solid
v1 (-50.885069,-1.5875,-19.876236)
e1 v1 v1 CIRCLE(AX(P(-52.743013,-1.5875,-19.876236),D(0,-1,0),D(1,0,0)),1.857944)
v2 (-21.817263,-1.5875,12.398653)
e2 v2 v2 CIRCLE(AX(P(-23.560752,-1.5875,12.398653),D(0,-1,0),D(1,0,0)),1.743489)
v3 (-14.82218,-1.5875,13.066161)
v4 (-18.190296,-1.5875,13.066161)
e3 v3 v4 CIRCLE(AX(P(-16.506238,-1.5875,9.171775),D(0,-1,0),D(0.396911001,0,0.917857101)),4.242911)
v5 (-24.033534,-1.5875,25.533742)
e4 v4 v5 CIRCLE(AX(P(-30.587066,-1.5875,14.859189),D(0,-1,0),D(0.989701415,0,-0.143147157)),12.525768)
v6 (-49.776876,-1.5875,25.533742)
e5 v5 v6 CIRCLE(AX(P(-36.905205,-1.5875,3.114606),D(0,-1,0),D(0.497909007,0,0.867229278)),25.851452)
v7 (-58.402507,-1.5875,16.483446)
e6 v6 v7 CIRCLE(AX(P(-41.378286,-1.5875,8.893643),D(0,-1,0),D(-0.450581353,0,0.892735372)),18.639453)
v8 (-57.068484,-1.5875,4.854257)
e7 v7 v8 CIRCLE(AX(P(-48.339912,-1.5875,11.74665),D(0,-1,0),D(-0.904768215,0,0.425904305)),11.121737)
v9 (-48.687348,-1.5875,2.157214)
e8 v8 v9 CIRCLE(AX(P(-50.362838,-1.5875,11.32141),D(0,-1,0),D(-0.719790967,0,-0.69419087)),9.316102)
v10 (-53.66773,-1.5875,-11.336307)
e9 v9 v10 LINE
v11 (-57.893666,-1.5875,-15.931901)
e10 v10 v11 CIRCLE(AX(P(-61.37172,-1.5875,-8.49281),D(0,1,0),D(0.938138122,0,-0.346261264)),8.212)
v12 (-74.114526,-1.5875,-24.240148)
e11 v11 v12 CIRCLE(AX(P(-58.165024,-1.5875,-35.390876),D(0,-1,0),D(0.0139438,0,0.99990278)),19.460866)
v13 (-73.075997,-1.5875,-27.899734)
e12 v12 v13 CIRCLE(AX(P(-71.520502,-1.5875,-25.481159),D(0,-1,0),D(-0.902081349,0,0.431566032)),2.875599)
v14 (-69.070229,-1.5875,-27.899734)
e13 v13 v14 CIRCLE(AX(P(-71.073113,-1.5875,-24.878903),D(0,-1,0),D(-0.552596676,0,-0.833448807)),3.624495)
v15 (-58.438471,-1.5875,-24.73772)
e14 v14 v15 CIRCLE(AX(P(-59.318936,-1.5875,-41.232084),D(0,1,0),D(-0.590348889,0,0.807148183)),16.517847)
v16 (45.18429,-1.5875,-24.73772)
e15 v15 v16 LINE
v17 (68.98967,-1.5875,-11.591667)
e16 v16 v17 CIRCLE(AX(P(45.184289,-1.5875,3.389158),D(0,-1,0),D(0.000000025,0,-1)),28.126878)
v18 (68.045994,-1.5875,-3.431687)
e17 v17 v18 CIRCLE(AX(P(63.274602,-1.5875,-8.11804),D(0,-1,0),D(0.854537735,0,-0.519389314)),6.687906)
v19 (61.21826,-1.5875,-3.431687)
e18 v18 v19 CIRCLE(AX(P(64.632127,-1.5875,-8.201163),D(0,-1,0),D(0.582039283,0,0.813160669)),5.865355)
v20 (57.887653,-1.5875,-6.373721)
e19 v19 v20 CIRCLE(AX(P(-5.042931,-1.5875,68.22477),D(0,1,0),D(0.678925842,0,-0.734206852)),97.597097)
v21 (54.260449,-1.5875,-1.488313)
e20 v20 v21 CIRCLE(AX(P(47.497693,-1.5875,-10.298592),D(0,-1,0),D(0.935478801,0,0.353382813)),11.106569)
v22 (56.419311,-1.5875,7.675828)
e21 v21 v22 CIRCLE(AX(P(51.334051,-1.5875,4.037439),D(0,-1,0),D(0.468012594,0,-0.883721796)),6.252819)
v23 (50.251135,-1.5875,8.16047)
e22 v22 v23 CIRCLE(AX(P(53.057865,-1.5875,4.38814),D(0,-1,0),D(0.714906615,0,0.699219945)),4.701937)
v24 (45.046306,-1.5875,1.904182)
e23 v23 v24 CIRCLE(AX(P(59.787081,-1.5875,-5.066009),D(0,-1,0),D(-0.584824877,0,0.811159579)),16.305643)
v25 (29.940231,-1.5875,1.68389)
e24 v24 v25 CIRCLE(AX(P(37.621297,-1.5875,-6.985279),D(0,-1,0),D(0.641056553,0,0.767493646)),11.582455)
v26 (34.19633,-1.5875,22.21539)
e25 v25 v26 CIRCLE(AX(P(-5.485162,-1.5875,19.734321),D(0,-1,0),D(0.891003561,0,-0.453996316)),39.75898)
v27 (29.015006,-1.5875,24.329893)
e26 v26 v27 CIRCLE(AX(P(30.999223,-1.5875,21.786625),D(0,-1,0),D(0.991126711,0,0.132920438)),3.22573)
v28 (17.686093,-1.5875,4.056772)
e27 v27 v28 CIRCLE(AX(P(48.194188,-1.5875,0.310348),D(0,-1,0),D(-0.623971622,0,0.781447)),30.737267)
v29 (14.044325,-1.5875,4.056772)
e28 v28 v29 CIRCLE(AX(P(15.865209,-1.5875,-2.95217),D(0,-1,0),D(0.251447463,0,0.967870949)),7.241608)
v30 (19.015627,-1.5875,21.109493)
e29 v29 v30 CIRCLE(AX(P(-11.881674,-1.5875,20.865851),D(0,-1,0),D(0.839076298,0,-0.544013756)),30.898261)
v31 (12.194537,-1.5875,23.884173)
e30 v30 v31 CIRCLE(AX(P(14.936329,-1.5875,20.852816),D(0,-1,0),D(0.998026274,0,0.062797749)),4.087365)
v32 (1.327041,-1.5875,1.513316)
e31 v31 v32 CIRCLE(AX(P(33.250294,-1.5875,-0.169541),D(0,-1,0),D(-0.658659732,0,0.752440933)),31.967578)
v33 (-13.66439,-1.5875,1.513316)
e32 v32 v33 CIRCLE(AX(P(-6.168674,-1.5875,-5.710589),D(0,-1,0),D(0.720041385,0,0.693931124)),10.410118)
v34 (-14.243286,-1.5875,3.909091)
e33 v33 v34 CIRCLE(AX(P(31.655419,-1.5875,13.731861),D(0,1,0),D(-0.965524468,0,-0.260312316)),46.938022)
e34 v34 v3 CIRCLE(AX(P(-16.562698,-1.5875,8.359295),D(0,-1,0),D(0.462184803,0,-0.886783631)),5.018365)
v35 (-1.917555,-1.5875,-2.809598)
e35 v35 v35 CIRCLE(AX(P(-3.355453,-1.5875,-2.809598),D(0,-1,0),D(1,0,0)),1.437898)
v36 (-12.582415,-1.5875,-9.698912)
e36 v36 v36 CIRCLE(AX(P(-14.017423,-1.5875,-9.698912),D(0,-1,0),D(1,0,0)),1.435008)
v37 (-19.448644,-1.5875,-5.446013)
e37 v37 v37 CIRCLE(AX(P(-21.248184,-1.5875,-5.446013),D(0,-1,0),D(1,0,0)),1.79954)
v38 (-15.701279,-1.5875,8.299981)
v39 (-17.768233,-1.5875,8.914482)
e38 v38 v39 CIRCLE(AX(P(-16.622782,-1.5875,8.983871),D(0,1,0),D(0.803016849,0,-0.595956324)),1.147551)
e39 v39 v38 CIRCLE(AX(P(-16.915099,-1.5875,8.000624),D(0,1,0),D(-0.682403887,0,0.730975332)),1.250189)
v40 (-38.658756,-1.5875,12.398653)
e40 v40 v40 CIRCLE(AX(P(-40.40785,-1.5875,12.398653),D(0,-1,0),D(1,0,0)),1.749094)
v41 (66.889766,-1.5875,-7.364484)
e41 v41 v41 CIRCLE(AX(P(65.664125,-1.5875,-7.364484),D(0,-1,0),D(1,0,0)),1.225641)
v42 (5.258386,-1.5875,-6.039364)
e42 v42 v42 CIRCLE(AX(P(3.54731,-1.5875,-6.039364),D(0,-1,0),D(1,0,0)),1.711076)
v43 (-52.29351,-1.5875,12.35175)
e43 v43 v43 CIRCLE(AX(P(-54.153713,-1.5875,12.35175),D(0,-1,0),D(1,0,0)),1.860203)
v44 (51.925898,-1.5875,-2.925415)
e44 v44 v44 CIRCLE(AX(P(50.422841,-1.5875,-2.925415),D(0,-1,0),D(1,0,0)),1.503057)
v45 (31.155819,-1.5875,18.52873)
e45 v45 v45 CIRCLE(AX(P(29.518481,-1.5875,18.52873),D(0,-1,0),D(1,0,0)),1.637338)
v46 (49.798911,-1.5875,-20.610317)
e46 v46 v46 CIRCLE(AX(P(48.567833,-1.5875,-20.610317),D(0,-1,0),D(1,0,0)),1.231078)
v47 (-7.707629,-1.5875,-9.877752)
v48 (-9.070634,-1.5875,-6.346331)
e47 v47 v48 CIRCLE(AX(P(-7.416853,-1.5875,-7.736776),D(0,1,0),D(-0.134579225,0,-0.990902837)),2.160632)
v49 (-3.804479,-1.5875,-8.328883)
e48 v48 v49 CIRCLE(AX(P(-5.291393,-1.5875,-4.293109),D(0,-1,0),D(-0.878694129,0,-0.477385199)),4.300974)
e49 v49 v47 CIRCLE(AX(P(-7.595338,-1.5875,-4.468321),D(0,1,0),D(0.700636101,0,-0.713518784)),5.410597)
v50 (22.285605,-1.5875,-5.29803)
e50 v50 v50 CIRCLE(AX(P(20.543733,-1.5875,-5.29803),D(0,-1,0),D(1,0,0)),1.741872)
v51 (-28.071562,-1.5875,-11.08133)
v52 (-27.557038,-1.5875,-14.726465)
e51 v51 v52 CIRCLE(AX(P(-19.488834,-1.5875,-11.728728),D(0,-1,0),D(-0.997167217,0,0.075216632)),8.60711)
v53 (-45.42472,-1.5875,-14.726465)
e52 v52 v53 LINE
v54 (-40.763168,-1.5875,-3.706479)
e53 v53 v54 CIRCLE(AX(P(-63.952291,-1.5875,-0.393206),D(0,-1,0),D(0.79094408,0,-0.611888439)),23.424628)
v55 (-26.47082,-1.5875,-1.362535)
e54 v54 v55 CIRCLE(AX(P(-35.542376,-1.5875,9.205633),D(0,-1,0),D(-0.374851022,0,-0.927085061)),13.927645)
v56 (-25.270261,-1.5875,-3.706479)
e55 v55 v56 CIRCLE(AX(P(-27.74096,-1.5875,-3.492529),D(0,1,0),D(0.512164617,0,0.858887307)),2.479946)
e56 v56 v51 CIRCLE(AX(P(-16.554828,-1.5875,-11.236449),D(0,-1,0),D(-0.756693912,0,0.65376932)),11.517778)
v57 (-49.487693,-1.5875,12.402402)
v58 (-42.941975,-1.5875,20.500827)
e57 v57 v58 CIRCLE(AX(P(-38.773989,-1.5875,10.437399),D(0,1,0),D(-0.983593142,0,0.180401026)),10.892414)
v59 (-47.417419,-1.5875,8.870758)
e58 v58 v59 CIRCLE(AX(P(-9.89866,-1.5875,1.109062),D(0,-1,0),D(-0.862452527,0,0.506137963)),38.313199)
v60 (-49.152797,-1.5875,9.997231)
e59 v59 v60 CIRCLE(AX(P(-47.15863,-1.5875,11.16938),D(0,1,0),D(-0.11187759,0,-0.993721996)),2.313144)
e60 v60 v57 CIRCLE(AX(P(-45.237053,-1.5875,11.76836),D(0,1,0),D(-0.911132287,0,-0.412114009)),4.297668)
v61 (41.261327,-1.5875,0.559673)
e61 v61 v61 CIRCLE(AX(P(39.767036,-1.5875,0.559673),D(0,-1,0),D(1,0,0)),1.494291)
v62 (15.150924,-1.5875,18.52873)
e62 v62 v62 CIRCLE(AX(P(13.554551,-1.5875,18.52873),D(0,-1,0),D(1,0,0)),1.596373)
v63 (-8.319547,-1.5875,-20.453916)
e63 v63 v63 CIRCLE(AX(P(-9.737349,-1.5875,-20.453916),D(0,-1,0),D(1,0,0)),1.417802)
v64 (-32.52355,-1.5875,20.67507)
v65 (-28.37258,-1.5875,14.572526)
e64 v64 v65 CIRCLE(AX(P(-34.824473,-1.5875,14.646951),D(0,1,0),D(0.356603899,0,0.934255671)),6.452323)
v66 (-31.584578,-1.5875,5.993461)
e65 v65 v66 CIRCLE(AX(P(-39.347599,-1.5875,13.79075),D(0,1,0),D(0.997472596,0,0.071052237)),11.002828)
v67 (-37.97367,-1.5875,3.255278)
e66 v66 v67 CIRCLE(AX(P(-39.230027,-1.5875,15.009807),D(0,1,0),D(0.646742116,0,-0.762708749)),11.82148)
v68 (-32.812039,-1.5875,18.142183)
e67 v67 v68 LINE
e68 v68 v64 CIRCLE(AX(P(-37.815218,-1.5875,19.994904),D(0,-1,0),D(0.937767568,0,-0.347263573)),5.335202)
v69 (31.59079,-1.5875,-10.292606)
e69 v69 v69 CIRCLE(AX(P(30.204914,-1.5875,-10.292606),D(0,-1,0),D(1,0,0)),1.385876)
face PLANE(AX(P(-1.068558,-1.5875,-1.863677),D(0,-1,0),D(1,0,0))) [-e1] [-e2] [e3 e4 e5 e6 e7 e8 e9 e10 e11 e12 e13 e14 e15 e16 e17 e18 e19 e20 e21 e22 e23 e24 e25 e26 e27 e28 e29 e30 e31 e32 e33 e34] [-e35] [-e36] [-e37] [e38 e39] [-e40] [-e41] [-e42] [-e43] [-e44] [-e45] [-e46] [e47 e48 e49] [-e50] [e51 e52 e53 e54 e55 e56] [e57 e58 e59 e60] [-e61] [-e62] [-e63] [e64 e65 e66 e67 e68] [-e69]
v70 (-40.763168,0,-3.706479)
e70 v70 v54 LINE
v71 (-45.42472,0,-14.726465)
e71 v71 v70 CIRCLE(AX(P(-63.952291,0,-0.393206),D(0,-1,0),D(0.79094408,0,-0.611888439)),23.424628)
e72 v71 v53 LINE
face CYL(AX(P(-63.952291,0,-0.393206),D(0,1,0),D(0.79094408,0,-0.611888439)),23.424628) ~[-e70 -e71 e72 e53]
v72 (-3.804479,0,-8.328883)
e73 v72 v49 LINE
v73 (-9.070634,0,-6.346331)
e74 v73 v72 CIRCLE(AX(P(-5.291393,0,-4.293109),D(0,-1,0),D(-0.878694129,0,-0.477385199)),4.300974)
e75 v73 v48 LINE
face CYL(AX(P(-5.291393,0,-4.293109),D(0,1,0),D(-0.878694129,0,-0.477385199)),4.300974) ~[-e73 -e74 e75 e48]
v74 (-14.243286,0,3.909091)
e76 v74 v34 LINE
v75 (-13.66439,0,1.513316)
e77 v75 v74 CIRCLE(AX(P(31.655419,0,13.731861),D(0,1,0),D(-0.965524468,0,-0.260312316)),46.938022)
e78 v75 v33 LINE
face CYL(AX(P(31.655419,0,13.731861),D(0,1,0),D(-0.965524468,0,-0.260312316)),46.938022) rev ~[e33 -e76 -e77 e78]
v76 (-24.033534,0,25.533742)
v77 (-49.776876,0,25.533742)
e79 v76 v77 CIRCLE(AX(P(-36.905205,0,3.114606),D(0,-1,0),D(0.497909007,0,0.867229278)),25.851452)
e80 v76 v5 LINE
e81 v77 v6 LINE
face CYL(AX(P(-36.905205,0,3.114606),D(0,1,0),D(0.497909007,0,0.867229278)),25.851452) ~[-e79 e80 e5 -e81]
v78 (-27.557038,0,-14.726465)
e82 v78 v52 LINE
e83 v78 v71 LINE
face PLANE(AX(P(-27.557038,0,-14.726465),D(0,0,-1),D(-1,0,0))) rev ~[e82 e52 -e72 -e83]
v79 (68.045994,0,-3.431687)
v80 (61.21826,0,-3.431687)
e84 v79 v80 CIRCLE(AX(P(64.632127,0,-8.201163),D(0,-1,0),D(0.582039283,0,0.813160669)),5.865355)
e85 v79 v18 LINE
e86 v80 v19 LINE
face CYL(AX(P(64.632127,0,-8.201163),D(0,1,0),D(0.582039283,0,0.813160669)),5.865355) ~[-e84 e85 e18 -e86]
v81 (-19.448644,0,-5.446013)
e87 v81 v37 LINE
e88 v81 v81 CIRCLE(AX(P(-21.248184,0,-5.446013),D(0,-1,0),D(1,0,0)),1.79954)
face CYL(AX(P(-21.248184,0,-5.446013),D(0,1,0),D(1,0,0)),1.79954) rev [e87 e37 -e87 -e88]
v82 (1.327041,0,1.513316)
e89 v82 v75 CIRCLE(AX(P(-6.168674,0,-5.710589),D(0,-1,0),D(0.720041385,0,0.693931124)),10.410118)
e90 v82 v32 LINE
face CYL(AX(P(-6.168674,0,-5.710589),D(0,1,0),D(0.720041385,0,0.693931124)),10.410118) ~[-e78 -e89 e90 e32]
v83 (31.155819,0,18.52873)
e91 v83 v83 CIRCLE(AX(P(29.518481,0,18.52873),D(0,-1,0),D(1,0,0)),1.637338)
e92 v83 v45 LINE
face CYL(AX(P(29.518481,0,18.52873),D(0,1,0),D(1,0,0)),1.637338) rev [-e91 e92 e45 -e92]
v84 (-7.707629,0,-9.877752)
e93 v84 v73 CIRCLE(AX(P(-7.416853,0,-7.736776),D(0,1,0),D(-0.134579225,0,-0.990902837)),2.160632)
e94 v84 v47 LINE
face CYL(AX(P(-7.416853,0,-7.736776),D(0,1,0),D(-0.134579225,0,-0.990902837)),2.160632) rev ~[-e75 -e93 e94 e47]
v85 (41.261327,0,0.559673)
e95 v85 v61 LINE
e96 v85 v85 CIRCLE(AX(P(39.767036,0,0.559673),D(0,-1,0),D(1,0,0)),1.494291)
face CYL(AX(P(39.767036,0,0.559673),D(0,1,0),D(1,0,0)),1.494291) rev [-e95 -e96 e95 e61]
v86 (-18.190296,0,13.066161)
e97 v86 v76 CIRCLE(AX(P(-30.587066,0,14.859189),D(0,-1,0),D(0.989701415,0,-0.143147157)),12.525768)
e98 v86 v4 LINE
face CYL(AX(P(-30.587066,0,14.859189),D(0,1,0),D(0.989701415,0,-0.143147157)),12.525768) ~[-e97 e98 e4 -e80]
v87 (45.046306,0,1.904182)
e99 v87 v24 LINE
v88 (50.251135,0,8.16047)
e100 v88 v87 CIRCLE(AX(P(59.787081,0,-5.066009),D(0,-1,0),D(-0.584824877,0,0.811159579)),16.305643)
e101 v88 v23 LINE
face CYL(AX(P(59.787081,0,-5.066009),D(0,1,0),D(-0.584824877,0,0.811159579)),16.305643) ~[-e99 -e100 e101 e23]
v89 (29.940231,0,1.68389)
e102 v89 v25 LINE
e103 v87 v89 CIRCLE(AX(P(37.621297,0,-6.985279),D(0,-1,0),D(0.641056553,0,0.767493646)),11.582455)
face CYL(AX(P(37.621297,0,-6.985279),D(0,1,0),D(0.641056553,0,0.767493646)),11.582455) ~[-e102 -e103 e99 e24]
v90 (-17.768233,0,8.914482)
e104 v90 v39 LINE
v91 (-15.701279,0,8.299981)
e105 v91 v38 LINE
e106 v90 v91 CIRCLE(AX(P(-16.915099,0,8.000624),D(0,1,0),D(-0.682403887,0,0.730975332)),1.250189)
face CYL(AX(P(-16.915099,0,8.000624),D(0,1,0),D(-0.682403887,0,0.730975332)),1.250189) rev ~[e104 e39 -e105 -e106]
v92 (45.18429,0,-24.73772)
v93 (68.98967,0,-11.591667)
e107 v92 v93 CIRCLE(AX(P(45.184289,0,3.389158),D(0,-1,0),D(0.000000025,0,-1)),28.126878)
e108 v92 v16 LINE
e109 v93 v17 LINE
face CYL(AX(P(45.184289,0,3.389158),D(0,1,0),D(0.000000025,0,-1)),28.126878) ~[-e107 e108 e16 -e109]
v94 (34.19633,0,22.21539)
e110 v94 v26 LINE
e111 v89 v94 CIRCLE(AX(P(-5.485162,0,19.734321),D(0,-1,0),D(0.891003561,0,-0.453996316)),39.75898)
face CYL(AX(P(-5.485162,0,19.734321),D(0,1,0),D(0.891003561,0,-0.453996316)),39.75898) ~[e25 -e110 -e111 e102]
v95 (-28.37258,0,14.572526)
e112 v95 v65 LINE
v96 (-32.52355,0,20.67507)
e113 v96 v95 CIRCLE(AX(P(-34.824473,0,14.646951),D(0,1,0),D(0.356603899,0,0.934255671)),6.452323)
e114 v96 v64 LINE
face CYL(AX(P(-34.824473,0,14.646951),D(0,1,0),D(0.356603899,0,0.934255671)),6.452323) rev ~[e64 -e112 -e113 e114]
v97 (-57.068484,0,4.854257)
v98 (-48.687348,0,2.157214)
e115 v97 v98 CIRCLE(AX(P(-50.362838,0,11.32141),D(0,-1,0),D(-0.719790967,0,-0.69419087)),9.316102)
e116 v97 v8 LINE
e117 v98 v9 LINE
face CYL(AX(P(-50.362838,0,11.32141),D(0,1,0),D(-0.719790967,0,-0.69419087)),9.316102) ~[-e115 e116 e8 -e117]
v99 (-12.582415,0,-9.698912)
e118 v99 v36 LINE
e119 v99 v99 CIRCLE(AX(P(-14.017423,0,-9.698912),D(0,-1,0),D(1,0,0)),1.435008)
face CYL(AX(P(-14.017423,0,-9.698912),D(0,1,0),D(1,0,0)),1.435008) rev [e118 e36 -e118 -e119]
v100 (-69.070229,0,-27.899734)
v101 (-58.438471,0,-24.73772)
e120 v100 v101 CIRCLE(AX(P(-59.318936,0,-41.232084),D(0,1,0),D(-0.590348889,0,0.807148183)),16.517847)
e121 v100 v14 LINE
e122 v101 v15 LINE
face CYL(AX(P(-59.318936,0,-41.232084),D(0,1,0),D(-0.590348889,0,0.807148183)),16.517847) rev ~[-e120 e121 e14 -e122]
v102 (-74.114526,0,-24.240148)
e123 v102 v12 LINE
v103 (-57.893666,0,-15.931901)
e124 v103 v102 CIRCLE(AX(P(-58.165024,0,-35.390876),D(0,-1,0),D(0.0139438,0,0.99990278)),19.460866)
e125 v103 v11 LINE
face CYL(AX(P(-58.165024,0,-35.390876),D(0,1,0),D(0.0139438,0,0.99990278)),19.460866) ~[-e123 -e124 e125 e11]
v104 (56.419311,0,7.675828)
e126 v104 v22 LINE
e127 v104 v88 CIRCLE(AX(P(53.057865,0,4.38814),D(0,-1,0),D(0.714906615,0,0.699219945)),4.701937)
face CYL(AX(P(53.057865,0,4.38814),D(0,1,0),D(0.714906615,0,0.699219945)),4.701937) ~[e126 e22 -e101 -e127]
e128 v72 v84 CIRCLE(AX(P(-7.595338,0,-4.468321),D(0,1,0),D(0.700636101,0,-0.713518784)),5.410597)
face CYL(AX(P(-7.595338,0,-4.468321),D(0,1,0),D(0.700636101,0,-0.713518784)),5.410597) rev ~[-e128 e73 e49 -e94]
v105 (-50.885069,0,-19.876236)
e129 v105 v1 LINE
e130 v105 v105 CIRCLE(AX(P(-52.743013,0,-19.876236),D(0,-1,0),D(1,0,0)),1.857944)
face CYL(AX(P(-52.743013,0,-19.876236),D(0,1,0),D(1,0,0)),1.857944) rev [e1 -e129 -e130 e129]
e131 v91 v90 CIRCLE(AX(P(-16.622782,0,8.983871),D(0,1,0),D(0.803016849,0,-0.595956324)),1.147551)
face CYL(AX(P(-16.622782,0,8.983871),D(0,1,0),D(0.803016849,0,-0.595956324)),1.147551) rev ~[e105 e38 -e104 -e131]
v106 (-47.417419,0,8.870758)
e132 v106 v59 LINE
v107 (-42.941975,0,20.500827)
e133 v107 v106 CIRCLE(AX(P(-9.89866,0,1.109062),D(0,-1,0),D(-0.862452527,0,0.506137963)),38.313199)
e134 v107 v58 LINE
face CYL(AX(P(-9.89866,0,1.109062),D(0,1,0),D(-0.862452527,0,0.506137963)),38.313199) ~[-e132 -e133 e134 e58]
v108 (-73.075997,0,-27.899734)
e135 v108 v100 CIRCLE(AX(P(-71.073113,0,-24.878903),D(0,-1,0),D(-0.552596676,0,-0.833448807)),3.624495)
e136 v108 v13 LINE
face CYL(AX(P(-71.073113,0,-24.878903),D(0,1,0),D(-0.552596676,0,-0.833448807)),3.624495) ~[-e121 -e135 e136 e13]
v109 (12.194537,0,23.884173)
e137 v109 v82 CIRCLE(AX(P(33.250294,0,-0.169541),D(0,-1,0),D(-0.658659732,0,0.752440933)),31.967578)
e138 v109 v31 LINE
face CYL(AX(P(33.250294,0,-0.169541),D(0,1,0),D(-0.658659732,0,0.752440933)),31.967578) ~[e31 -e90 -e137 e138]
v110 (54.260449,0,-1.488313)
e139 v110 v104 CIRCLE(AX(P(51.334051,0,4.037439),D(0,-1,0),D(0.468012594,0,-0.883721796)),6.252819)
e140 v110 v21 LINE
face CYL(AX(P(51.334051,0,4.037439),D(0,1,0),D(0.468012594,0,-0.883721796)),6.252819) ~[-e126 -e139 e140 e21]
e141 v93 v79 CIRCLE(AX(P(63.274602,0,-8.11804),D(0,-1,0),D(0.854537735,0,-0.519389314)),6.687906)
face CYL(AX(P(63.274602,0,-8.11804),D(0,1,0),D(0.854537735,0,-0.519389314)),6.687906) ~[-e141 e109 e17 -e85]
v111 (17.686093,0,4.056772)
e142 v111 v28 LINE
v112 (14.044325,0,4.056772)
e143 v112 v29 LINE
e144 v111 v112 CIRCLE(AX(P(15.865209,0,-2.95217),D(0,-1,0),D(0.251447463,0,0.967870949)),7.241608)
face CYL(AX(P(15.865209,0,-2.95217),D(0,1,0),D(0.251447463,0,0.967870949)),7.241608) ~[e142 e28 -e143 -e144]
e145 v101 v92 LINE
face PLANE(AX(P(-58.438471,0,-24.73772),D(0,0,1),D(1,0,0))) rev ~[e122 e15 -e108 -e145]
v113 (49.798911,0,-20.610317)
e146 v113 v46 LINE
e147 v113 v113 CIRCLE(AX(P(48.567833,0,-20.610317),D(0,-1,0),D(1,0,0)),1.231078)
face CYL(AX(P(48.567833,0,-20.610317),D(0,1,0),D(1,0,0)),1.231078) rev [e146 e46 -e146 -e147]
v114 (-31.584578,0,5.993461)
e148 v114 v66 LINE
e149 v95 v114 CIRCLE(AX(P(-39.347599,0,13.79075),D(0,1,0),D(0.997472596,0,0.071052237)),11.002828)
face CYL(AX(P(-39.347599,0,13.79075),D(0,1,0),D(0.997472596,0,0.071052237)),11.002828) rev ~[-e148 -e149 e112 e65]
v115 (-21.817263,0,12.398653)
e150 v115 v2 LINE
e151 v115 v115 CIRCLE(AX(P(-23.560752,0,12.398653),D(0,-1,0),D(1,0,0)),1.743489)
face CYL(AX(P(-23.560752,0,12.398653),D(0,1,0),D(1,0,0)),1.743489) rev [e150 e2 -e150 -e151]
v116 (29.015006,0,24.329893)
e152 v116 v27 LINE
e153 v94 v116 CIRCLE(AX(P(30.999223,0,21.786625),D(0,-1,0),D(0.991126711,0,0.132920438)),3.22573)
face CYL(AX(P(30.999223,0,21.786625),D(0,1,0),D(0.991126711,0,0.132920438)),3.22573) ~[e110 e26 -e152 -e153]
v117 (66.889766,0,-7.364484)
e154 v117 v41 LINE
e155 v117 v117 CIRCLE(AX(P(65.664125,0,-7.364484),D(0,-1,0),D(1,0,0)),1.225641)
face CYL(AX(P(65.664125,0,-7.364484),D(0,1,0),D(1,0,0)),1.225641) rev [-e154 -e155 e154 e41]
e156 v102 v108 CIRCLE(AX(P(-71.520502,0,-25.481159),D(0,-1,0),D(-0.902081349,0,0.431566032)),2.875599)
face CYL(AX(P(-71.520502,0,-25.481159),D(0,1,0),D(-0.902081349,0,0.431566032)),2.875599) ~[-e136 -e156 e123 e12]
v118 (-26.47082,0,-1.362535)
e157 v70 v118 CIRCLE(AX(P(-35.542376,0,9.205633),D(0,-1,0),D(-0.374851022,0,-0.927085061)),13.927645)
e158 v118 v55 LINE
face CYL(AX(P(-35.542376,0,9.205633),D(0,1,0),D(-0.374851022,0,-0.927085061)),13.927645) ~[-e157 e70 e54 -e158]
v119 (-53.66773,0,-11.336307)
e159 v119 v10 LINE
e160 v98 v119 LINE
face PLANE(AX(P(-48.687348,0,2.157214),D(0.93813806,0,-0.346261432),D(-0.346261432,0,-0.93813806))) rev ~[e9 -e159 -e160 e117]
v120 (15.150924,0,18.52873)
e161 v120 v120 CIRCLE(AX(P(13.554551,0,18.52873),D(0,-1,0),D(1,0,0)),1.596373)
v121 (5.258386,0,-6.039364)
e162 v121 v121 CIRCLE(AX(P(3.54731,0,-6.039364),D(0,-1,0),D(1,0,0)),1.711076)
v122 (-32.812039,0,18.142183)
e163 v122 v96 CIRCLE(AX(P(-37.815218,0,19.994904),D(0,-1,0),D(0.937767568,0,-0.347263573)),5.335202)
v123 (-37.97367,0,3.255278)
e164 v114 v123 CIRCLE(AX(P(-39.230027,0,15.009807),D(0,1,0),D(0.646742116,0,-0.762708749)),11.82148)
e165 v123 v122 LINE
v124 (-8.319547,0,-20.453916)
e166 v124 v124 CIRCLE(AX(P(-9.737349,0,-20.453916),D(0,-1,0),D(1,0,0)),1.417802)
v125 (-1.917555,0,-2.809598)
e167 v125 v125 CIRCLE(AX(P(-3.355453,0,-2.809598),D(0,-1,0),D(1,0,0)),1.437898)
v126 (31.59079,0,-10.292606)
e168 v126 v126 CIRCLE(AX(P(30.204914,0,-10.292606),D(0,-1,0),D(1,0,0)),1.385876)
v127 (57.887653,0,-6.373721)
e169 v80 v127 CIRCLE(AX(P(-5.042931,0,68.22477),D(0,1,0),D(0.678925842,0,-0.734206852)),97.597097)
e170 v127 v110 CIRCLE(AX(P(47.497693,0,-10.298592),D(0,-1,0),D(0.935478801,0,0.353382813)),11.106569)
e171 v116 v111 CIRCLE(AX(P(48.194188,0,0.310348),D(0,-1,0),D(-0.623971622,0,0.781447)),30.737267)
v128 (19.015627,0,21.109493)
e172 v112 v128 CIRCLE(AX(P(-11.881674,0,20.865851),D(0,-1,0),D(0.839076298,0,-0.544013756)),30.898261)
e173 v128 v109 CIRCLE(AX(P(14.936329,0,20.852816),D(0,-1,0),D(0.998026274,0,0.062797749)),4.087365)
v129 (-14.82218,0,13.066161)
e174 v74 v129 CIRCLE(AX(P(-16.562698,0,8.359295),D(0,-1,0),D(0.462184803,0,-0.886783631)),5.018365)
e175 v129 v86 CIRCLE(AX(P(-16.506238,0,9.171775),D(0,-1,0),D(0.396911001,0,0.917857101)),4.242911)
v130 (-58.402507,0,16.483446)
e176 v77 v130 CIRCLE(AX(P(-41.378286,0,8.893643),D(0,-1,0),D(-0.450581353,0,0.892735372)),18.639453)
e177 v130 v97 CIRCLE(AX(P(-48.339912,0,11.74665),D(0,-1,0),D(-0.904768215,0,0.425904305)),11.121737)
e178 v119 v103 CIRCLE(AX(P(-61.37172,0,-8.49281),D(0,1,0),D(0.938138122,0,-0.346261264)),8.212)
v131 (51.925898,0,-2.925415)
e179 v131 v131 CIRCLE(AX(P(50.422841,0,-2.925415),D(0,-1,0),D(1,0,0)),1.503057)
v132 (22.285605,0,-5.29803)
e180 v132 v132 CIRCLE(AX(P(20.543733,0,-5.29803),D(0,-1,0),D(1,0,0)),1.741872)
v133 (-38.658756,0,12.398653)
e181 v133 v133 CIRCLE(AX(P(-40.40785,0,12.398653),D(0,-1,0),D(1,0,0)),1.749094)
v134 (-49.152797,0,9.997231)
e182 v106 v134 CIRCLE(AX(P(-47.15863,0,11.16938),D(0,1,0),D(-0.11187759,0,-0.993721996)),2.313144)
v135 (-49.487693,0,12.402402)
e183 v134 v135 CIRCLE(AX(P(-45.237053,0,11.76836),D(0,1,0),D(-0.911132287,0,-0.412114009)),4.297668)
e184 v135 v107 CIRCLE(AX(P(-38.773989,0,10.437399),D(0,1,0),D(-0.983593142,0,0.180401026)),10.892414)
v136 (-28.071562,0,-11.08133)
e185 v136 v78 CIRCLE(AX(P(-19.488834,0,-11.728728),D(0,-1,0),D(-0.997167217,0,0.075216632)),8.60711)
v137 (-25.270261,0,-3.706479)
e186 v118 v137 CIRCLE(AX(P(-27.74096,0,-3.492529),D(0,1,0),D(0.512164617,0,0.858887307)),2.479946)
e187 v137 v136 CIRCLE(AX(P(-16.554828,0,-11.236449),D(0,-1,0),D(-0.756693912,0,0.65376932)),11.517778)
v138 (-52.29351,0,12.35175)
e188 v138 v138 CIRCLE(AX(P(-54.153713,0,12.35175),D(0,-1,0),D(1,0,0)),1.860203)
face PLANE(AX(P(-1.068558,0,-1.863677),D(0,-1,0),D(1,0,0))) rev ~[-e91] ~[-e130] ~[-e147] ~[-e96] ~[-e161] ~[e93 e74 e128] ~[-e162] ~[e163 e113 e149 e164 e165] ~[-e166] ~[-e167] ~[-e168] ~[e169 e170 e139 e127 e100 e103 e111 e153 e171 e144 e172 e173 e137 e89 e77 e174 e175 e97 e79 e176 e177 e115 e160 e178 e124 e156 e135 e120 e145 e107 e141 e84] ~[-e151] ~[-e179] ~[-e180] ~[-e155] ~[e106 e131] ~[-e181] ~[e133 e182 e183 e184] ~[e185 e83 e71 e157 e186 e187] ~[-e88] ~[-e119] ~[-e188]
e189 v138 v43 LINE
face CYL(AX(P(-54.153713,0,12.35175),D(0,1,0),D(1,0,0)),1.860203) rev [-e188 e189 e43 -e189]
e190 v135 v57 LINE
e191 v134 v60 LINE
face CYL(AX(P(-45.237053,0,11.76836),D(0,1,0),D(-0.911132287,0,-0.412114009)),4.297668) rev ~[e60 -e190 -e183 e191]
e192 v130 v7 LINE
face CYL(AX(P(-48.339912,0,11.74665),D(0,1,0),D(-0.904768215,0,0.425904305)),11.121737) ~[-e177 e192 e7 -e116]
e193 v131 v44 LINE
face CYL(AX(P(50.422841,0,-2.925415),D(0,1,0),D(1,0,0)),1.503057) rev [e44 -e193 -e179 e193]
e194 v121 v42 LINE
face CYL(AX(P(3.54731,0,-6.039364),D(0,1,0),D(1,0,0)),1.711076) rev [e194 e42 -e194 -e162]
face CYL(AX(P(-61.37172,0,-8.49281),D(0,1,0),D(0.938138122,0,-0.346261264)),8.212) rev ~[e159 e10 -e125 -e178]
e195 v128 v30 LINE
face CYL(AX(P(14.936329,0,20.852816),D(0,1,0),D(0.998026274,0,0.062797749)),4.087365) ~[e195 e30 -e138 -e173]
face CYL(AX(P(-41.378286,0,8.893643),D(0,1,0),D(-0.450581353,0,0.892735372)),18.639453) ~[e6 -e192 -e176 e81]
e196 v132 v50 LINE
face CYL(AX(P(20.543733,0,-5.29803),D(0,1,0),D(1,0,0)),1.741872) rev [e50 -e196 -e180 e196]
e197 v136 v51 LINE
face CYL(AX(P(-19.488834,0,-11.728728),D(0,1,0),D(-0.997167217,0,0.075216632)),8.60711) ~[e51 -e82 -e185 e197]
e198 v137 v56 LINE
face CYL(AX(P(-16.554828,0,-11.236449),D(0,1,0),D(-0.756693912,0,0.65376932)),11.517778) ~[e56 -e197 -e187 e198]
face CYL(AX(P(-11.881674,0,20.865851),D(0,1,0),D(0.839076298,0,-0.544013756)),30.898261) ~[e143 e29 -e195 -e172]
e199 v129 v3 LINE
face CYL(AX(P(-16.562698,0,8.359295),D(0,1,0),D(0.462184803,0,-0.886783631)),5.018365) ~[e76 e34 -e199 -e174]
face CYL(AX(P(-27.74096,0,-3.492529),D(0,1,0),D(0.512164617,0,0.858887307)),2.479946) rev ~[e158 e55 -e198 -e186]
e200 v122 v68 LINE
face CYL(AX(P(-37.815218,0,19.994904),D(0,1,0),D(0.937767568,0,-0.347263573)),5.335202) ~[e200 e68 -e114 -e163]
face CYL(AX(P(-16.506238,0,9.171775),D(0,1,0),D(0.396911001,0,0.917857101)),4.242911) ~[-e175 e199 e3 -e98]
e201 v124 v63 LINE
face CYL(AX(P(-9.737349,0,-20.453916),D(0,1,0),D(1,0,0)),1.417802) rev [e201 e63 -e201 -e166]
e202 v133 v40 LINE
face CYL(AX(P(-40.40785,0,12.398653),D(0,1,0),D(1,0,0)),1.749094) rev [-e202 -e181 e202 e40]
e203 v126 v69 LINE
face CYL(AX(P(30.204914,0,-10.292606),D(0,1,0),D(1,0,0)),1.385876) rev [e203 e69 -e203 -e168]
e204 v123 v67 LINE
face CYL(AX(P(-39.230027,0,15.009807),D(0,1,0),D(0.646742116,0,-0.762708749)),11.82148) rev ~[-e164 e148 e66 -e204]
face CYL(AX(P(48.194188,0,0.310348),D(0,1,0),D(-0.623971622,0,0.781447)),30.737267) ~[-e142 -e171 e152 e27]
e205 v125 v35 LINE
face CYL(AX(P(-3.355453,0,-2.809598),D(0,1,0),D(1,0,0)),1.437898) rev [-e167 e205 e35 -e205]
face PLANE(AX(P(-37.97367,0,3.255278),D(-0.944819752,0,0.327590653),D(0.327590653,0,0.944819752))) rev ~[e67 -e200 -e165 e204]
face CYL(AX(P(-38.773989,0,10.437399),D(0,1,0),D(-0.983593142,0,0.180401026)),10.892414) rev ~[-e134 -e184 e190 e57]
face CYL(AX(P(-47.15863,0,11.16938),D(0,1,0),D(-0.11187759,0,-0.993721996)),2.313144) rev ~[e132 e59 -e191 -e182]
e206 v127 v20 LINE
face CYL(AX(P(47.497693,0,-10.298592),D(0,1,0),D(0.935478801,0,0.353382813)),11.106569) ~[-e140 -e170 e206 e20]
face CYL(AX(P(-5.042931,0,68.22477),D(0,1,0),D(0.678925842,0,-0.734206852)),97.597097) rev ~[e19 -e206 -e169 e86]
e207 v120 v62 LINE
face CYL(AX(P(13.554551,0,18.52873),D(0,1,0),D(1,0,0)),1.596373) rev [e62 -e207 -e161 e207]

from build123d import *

# Parameters (mm, degrees)
F0_R     = 1.857944
F0_R_2   = 1.417802
F0_R_3   = 1.435008
F0_R_4   = 1.79954
F0_R_5   = 1.437898
F0_R_6   = 1.231078
F0_R_7   = 1.385876
F0_R_8   = 1.711076
F0_R_9   = 1.741872
F0_R_10  = 1.225641
F0_R_11  = 1.503057
F0_R_12  = 1.860203
F0_R_13  = 1.749094
F0_R_14  = 1.743489
F0_R_15  = 1.494291
F0_R_16  = 1.596373
F0_R_17  = 1.637338
F1_DEPTH = 1.5875


with BuildPart() as f1:
    # F0 (on Front) → F1 (new body)
    with BuildSketch(Plane.XZ):
        with BuildLine():
            ThreePointArc((-53.66773, -11.336307), (-55.326937, -14.051365), (-57.893666, -15.931901))
            ThreePointArc((-57.893666, -15.931901), (-67.036765, -18.069861), (-74.114526, -24.240148))
            ThreePointArc((-74.114526, -24.240148), (-74.286866, -26.266206), (-73.075997, -27.899734))
            ThreePointArc((-73.075997, -27.899734), (-71.073113, -28.503398), (-69.070229, -27.899734))
            ThreePointArc((-69.070229, -27.899734), (-64.027702, -25.399624), (-58.438471, -24.73772))
            Line((-58.438471, -24.73772), (45.18429, -24.73772))
            ThreePointArc((45.18429, -24.73772), (58.781301, -21.232835), (68.98967, -11.591667))
            ThreePointArc((68.98967, -11.591667), (69.918229, -7.349726), (68.045994, -3.431687))
            ThreePointArc((68.045994, -3.431687), (64.632127, -2.335808), (61.21826, -3.431687))
            ThreePointArc((61.21826, -3.431687), (59.569704, -4.921663), (57.887653, -6.373721))
            ThreePointArc((57.887653, -6.373721), (56.415132, -3.677779), (54.260449, -1.488313))
            ThreePointArc((54.260449, -1.488313), (57.420268, 2.603666), (56.419311, 7.675828))
            ThreePointArc((56.419311, 7.675828), (53.426168, 9.07563), (50.251135, 8.16047))
            ThreePointArc((50.251135, 8.16047), (47.252127, 5.362267), (45.046306, 1.904182))
            ThreePointArc((45.046306, 1.904182), (37.452408, 4.595945), (29.940231, 1.68389))
            ThreePointArc((29.940231, 1.68389), (33.446145, 11.664014), (34.19633, 22.21539))
            ThreePointArc((34.19633, 22.21539), (32.218057, 24.773224), (29.015006, 24.329893))
            ThreePointArc((29.015006, 24.329893), (21.362188, 15.304458), (17.686093, 4.056772))
            ThreePointArc((17.686093, 4.056772), (15.865209, 4.289438), (14.044325, 4.056772))
            ThreePointArc((14.044325, 4.056772), (17.781783, 12.218199), (19.015627, 21.109493))
            ThreePointArc((19.015627, 21.109493), (16.476441, 24.638923), (12.194537, 23.884173))
            ThreePointArc((12.194537, 23.884173), (4.49603, 13.798937), (1.327041, 1.513316))
            ThreePointArc((1.327041, 1.513316), (-6.168675, 4.699529), (-13.66439, 1.513316))
            ThreePointArc((-13.66439, 1.513316), (-13.969566, 2.707403), (-14.243286, 3.909091))
            ThreePointArc((-14.243286, 3.909091), (-11.554331, 8.675915), (-14.82218, 13.066161))
            ThreePointArc((-14.82218, 13.066161), (-16.506238, 13.414686), (-18.190296, 13.066161))
            ThreePointArc((-18.190296, 13.066161), (-19.245169, 20.174848), (-24.033534, 25.533742))
            ThreePointArc((-24.033534, 25.533742), (-36.905205, 28.966058), (-49.776876, 25.533742))
            ThreePointArc((-49.776876, 25.533742), (-54.871128, 21.753364), (-58.402507, 16.483446))
            ThreePointArc((-58.402507, 16.483446), (-59.389188, 10.479151), (-57.068484, 4.854257))
            ThreePointArc((-57.068484, 4.854257), (-53.21663, 2.453173), (-48.687348, 2.157214))
            Line((-48.687348, 2.157214), (-53.66773, -11.336307))
        make_face()
        with Locations((-52.743013, -19.876236)):
            Circle(F0_R, mode=Mode.SUBTRACT)
        with Locations((-9.737349, -20.453916)):
            Circle(F0_R_2, mode=Mode.SUBTRACT)
        with BuildLine():
            Line((-27.557038, -14.726465), (-45.42472, -14.726465))
            ThreePointArc((-45.42472, -14.726465), (-42.378449, -9.519133), (-40.763168, -3.706479))
            ThreePointArc((-40.763168, -3.706479), (-33.288354, -4.538409), (-26.47082, -1.362535))
            ThreePointArc((-26.47082, -1.362535), (-25.533702, -2.36198), (-25.270261, -3.706479))
            ThreePointArc((-25.270261, -3.706479), (-27.322012, -7.146587), (-28.071562, -11.08133))
            ThreePointArc((-28.071562, -11.08133), (-28.011459, -12.931727), (-27.557038, -14.726465))
        make_face(mode=Mode.SUBTRACT)
        with Locations((-14.017423, -9.698912)):
            Circle(F0_R_3, mode=Mode.SUBTRACT)
        with BuildLine():
            ThreePointArc((-7.707629, -9.877752), (-9.432556, -8.514767), (-9.070634, -6.346331))
            ThreePointArc((-9.070634, -6.346331), (-6.806754, -8.318288), (-3.804479, -8.328883))
            ThreePointArc((-3.804479, -8.328883), (-5.599664, -9.49742), (-7.707629, -9.877752))
        make_face(mode=Mode.SUBTRACT)
        with Locations((-21.248184, -5.446013)):
            Circle(F0_R_4, mode=Mode.SUBTRACT)
        with Locations((-3.355453, -2.809598)):
            Circle(F0_R_5, mode=Mode.SUBTRACT)
        with Locations((48.567833, -20.610317)):
            Circle(F0_R_6, mode=Mode.SUBTRACT)
        with Locations((30.204914, -10.292606)):
            Circle(F0_R_7, mode=Mode.SUBTRACT)
        with Locations((3.54731, -6.039364)):
            Circle(F0_R_8, mode=Mode.SUBTRACT)
        with Locations((20.543733, -5.29803)):
            Circle(F0_R_9, mode=Mode.SUBTRACT)
        with Locations((65.664125, -7.364484)):
            Circle(F0_R_10, mode=Mode.SUBTRACT)
        with Locations((50.422841, -2.925415)):
            Circle(F0_R_11, mode=Mode.SUBTRACT)
        with Locations((-54.153713, 12.35175)):
            Circle(F0_R_12, mode=Mode.SUBTRACT)
        with Locations((-40.40785, 12.398653)):
            Circle(F0_R_13, mode=Mode.SUBTRACT)
        with BuildLine():
            ThreePointArc((-32.52355, 20.67507), (-29.489381, 18.275898), (-28.37258, 14.572526))
            ThreePointArc((-28.37258, 14.572526), (-29.043298, 9.932824), (-31.584578, 5.993461))
            ThreePointArc((-31.584578, 5.993461), (-34.573317, 4.144153), (-37.97367, 3.255278))
            Line((-37.97367, 3.255278), (-32.812039, 18.142183))
            ThreePointArc((-32.812039, 18.142183), (-32.514289, 19.391143), (-32.52355, 20.67507))
        make_face(mode=Mode.SUBTRACT)
        with Locations((-23.560752, 12.398653)):
            Circle(F0_R_14, mode=Mode.SUBTRACT)
        with BuildLine():
            ThreePointArc((-17.768233, 8.914482), (-16.558831, 9.198976), (-15.701279, 8.299981))
            ThreePointArc((-15.701279, 8.299981), (-16.9498, 7.883902), (-17.768233, 8.914482))
        make_face(mode=Mode.SUBTRACT)
        with BuildLine():
            ThreePointArc((-49.487693, 12.402402), (-47.245252, 17.284471), (-42.941975, 20.500827))
            ThreePointArc((-42.941975, 20.500827), (-45.655704, 14.868968), (-47.417419, 8.870758))
            ThreePointArc((-47.417419, 8.870758), (-48.41807, 9.229162), (-49.152797, 9.997231))
            ThreePointArc((-49.152797, 9.997231), (-49.493656, 11.175671), (-49.487693, 12.402402))
        make_face(mode=Mode.SUBTRACT)
        with Locations((39.767036, 0.559673)):
            Circle(F0_R_15, mode=Mode.SUBTRACT)
        with Locations((13.554551, 18.52873)):
            Circle(F0_R_16, mode=Mode.SUBTRACT)
        with Locations((29.518481, 18.52873)):
            Circle(F0_R_17, mode=Mode.SUBTRACT)
    extrude(amount=F1_DEPTH)


solid = f1.part
